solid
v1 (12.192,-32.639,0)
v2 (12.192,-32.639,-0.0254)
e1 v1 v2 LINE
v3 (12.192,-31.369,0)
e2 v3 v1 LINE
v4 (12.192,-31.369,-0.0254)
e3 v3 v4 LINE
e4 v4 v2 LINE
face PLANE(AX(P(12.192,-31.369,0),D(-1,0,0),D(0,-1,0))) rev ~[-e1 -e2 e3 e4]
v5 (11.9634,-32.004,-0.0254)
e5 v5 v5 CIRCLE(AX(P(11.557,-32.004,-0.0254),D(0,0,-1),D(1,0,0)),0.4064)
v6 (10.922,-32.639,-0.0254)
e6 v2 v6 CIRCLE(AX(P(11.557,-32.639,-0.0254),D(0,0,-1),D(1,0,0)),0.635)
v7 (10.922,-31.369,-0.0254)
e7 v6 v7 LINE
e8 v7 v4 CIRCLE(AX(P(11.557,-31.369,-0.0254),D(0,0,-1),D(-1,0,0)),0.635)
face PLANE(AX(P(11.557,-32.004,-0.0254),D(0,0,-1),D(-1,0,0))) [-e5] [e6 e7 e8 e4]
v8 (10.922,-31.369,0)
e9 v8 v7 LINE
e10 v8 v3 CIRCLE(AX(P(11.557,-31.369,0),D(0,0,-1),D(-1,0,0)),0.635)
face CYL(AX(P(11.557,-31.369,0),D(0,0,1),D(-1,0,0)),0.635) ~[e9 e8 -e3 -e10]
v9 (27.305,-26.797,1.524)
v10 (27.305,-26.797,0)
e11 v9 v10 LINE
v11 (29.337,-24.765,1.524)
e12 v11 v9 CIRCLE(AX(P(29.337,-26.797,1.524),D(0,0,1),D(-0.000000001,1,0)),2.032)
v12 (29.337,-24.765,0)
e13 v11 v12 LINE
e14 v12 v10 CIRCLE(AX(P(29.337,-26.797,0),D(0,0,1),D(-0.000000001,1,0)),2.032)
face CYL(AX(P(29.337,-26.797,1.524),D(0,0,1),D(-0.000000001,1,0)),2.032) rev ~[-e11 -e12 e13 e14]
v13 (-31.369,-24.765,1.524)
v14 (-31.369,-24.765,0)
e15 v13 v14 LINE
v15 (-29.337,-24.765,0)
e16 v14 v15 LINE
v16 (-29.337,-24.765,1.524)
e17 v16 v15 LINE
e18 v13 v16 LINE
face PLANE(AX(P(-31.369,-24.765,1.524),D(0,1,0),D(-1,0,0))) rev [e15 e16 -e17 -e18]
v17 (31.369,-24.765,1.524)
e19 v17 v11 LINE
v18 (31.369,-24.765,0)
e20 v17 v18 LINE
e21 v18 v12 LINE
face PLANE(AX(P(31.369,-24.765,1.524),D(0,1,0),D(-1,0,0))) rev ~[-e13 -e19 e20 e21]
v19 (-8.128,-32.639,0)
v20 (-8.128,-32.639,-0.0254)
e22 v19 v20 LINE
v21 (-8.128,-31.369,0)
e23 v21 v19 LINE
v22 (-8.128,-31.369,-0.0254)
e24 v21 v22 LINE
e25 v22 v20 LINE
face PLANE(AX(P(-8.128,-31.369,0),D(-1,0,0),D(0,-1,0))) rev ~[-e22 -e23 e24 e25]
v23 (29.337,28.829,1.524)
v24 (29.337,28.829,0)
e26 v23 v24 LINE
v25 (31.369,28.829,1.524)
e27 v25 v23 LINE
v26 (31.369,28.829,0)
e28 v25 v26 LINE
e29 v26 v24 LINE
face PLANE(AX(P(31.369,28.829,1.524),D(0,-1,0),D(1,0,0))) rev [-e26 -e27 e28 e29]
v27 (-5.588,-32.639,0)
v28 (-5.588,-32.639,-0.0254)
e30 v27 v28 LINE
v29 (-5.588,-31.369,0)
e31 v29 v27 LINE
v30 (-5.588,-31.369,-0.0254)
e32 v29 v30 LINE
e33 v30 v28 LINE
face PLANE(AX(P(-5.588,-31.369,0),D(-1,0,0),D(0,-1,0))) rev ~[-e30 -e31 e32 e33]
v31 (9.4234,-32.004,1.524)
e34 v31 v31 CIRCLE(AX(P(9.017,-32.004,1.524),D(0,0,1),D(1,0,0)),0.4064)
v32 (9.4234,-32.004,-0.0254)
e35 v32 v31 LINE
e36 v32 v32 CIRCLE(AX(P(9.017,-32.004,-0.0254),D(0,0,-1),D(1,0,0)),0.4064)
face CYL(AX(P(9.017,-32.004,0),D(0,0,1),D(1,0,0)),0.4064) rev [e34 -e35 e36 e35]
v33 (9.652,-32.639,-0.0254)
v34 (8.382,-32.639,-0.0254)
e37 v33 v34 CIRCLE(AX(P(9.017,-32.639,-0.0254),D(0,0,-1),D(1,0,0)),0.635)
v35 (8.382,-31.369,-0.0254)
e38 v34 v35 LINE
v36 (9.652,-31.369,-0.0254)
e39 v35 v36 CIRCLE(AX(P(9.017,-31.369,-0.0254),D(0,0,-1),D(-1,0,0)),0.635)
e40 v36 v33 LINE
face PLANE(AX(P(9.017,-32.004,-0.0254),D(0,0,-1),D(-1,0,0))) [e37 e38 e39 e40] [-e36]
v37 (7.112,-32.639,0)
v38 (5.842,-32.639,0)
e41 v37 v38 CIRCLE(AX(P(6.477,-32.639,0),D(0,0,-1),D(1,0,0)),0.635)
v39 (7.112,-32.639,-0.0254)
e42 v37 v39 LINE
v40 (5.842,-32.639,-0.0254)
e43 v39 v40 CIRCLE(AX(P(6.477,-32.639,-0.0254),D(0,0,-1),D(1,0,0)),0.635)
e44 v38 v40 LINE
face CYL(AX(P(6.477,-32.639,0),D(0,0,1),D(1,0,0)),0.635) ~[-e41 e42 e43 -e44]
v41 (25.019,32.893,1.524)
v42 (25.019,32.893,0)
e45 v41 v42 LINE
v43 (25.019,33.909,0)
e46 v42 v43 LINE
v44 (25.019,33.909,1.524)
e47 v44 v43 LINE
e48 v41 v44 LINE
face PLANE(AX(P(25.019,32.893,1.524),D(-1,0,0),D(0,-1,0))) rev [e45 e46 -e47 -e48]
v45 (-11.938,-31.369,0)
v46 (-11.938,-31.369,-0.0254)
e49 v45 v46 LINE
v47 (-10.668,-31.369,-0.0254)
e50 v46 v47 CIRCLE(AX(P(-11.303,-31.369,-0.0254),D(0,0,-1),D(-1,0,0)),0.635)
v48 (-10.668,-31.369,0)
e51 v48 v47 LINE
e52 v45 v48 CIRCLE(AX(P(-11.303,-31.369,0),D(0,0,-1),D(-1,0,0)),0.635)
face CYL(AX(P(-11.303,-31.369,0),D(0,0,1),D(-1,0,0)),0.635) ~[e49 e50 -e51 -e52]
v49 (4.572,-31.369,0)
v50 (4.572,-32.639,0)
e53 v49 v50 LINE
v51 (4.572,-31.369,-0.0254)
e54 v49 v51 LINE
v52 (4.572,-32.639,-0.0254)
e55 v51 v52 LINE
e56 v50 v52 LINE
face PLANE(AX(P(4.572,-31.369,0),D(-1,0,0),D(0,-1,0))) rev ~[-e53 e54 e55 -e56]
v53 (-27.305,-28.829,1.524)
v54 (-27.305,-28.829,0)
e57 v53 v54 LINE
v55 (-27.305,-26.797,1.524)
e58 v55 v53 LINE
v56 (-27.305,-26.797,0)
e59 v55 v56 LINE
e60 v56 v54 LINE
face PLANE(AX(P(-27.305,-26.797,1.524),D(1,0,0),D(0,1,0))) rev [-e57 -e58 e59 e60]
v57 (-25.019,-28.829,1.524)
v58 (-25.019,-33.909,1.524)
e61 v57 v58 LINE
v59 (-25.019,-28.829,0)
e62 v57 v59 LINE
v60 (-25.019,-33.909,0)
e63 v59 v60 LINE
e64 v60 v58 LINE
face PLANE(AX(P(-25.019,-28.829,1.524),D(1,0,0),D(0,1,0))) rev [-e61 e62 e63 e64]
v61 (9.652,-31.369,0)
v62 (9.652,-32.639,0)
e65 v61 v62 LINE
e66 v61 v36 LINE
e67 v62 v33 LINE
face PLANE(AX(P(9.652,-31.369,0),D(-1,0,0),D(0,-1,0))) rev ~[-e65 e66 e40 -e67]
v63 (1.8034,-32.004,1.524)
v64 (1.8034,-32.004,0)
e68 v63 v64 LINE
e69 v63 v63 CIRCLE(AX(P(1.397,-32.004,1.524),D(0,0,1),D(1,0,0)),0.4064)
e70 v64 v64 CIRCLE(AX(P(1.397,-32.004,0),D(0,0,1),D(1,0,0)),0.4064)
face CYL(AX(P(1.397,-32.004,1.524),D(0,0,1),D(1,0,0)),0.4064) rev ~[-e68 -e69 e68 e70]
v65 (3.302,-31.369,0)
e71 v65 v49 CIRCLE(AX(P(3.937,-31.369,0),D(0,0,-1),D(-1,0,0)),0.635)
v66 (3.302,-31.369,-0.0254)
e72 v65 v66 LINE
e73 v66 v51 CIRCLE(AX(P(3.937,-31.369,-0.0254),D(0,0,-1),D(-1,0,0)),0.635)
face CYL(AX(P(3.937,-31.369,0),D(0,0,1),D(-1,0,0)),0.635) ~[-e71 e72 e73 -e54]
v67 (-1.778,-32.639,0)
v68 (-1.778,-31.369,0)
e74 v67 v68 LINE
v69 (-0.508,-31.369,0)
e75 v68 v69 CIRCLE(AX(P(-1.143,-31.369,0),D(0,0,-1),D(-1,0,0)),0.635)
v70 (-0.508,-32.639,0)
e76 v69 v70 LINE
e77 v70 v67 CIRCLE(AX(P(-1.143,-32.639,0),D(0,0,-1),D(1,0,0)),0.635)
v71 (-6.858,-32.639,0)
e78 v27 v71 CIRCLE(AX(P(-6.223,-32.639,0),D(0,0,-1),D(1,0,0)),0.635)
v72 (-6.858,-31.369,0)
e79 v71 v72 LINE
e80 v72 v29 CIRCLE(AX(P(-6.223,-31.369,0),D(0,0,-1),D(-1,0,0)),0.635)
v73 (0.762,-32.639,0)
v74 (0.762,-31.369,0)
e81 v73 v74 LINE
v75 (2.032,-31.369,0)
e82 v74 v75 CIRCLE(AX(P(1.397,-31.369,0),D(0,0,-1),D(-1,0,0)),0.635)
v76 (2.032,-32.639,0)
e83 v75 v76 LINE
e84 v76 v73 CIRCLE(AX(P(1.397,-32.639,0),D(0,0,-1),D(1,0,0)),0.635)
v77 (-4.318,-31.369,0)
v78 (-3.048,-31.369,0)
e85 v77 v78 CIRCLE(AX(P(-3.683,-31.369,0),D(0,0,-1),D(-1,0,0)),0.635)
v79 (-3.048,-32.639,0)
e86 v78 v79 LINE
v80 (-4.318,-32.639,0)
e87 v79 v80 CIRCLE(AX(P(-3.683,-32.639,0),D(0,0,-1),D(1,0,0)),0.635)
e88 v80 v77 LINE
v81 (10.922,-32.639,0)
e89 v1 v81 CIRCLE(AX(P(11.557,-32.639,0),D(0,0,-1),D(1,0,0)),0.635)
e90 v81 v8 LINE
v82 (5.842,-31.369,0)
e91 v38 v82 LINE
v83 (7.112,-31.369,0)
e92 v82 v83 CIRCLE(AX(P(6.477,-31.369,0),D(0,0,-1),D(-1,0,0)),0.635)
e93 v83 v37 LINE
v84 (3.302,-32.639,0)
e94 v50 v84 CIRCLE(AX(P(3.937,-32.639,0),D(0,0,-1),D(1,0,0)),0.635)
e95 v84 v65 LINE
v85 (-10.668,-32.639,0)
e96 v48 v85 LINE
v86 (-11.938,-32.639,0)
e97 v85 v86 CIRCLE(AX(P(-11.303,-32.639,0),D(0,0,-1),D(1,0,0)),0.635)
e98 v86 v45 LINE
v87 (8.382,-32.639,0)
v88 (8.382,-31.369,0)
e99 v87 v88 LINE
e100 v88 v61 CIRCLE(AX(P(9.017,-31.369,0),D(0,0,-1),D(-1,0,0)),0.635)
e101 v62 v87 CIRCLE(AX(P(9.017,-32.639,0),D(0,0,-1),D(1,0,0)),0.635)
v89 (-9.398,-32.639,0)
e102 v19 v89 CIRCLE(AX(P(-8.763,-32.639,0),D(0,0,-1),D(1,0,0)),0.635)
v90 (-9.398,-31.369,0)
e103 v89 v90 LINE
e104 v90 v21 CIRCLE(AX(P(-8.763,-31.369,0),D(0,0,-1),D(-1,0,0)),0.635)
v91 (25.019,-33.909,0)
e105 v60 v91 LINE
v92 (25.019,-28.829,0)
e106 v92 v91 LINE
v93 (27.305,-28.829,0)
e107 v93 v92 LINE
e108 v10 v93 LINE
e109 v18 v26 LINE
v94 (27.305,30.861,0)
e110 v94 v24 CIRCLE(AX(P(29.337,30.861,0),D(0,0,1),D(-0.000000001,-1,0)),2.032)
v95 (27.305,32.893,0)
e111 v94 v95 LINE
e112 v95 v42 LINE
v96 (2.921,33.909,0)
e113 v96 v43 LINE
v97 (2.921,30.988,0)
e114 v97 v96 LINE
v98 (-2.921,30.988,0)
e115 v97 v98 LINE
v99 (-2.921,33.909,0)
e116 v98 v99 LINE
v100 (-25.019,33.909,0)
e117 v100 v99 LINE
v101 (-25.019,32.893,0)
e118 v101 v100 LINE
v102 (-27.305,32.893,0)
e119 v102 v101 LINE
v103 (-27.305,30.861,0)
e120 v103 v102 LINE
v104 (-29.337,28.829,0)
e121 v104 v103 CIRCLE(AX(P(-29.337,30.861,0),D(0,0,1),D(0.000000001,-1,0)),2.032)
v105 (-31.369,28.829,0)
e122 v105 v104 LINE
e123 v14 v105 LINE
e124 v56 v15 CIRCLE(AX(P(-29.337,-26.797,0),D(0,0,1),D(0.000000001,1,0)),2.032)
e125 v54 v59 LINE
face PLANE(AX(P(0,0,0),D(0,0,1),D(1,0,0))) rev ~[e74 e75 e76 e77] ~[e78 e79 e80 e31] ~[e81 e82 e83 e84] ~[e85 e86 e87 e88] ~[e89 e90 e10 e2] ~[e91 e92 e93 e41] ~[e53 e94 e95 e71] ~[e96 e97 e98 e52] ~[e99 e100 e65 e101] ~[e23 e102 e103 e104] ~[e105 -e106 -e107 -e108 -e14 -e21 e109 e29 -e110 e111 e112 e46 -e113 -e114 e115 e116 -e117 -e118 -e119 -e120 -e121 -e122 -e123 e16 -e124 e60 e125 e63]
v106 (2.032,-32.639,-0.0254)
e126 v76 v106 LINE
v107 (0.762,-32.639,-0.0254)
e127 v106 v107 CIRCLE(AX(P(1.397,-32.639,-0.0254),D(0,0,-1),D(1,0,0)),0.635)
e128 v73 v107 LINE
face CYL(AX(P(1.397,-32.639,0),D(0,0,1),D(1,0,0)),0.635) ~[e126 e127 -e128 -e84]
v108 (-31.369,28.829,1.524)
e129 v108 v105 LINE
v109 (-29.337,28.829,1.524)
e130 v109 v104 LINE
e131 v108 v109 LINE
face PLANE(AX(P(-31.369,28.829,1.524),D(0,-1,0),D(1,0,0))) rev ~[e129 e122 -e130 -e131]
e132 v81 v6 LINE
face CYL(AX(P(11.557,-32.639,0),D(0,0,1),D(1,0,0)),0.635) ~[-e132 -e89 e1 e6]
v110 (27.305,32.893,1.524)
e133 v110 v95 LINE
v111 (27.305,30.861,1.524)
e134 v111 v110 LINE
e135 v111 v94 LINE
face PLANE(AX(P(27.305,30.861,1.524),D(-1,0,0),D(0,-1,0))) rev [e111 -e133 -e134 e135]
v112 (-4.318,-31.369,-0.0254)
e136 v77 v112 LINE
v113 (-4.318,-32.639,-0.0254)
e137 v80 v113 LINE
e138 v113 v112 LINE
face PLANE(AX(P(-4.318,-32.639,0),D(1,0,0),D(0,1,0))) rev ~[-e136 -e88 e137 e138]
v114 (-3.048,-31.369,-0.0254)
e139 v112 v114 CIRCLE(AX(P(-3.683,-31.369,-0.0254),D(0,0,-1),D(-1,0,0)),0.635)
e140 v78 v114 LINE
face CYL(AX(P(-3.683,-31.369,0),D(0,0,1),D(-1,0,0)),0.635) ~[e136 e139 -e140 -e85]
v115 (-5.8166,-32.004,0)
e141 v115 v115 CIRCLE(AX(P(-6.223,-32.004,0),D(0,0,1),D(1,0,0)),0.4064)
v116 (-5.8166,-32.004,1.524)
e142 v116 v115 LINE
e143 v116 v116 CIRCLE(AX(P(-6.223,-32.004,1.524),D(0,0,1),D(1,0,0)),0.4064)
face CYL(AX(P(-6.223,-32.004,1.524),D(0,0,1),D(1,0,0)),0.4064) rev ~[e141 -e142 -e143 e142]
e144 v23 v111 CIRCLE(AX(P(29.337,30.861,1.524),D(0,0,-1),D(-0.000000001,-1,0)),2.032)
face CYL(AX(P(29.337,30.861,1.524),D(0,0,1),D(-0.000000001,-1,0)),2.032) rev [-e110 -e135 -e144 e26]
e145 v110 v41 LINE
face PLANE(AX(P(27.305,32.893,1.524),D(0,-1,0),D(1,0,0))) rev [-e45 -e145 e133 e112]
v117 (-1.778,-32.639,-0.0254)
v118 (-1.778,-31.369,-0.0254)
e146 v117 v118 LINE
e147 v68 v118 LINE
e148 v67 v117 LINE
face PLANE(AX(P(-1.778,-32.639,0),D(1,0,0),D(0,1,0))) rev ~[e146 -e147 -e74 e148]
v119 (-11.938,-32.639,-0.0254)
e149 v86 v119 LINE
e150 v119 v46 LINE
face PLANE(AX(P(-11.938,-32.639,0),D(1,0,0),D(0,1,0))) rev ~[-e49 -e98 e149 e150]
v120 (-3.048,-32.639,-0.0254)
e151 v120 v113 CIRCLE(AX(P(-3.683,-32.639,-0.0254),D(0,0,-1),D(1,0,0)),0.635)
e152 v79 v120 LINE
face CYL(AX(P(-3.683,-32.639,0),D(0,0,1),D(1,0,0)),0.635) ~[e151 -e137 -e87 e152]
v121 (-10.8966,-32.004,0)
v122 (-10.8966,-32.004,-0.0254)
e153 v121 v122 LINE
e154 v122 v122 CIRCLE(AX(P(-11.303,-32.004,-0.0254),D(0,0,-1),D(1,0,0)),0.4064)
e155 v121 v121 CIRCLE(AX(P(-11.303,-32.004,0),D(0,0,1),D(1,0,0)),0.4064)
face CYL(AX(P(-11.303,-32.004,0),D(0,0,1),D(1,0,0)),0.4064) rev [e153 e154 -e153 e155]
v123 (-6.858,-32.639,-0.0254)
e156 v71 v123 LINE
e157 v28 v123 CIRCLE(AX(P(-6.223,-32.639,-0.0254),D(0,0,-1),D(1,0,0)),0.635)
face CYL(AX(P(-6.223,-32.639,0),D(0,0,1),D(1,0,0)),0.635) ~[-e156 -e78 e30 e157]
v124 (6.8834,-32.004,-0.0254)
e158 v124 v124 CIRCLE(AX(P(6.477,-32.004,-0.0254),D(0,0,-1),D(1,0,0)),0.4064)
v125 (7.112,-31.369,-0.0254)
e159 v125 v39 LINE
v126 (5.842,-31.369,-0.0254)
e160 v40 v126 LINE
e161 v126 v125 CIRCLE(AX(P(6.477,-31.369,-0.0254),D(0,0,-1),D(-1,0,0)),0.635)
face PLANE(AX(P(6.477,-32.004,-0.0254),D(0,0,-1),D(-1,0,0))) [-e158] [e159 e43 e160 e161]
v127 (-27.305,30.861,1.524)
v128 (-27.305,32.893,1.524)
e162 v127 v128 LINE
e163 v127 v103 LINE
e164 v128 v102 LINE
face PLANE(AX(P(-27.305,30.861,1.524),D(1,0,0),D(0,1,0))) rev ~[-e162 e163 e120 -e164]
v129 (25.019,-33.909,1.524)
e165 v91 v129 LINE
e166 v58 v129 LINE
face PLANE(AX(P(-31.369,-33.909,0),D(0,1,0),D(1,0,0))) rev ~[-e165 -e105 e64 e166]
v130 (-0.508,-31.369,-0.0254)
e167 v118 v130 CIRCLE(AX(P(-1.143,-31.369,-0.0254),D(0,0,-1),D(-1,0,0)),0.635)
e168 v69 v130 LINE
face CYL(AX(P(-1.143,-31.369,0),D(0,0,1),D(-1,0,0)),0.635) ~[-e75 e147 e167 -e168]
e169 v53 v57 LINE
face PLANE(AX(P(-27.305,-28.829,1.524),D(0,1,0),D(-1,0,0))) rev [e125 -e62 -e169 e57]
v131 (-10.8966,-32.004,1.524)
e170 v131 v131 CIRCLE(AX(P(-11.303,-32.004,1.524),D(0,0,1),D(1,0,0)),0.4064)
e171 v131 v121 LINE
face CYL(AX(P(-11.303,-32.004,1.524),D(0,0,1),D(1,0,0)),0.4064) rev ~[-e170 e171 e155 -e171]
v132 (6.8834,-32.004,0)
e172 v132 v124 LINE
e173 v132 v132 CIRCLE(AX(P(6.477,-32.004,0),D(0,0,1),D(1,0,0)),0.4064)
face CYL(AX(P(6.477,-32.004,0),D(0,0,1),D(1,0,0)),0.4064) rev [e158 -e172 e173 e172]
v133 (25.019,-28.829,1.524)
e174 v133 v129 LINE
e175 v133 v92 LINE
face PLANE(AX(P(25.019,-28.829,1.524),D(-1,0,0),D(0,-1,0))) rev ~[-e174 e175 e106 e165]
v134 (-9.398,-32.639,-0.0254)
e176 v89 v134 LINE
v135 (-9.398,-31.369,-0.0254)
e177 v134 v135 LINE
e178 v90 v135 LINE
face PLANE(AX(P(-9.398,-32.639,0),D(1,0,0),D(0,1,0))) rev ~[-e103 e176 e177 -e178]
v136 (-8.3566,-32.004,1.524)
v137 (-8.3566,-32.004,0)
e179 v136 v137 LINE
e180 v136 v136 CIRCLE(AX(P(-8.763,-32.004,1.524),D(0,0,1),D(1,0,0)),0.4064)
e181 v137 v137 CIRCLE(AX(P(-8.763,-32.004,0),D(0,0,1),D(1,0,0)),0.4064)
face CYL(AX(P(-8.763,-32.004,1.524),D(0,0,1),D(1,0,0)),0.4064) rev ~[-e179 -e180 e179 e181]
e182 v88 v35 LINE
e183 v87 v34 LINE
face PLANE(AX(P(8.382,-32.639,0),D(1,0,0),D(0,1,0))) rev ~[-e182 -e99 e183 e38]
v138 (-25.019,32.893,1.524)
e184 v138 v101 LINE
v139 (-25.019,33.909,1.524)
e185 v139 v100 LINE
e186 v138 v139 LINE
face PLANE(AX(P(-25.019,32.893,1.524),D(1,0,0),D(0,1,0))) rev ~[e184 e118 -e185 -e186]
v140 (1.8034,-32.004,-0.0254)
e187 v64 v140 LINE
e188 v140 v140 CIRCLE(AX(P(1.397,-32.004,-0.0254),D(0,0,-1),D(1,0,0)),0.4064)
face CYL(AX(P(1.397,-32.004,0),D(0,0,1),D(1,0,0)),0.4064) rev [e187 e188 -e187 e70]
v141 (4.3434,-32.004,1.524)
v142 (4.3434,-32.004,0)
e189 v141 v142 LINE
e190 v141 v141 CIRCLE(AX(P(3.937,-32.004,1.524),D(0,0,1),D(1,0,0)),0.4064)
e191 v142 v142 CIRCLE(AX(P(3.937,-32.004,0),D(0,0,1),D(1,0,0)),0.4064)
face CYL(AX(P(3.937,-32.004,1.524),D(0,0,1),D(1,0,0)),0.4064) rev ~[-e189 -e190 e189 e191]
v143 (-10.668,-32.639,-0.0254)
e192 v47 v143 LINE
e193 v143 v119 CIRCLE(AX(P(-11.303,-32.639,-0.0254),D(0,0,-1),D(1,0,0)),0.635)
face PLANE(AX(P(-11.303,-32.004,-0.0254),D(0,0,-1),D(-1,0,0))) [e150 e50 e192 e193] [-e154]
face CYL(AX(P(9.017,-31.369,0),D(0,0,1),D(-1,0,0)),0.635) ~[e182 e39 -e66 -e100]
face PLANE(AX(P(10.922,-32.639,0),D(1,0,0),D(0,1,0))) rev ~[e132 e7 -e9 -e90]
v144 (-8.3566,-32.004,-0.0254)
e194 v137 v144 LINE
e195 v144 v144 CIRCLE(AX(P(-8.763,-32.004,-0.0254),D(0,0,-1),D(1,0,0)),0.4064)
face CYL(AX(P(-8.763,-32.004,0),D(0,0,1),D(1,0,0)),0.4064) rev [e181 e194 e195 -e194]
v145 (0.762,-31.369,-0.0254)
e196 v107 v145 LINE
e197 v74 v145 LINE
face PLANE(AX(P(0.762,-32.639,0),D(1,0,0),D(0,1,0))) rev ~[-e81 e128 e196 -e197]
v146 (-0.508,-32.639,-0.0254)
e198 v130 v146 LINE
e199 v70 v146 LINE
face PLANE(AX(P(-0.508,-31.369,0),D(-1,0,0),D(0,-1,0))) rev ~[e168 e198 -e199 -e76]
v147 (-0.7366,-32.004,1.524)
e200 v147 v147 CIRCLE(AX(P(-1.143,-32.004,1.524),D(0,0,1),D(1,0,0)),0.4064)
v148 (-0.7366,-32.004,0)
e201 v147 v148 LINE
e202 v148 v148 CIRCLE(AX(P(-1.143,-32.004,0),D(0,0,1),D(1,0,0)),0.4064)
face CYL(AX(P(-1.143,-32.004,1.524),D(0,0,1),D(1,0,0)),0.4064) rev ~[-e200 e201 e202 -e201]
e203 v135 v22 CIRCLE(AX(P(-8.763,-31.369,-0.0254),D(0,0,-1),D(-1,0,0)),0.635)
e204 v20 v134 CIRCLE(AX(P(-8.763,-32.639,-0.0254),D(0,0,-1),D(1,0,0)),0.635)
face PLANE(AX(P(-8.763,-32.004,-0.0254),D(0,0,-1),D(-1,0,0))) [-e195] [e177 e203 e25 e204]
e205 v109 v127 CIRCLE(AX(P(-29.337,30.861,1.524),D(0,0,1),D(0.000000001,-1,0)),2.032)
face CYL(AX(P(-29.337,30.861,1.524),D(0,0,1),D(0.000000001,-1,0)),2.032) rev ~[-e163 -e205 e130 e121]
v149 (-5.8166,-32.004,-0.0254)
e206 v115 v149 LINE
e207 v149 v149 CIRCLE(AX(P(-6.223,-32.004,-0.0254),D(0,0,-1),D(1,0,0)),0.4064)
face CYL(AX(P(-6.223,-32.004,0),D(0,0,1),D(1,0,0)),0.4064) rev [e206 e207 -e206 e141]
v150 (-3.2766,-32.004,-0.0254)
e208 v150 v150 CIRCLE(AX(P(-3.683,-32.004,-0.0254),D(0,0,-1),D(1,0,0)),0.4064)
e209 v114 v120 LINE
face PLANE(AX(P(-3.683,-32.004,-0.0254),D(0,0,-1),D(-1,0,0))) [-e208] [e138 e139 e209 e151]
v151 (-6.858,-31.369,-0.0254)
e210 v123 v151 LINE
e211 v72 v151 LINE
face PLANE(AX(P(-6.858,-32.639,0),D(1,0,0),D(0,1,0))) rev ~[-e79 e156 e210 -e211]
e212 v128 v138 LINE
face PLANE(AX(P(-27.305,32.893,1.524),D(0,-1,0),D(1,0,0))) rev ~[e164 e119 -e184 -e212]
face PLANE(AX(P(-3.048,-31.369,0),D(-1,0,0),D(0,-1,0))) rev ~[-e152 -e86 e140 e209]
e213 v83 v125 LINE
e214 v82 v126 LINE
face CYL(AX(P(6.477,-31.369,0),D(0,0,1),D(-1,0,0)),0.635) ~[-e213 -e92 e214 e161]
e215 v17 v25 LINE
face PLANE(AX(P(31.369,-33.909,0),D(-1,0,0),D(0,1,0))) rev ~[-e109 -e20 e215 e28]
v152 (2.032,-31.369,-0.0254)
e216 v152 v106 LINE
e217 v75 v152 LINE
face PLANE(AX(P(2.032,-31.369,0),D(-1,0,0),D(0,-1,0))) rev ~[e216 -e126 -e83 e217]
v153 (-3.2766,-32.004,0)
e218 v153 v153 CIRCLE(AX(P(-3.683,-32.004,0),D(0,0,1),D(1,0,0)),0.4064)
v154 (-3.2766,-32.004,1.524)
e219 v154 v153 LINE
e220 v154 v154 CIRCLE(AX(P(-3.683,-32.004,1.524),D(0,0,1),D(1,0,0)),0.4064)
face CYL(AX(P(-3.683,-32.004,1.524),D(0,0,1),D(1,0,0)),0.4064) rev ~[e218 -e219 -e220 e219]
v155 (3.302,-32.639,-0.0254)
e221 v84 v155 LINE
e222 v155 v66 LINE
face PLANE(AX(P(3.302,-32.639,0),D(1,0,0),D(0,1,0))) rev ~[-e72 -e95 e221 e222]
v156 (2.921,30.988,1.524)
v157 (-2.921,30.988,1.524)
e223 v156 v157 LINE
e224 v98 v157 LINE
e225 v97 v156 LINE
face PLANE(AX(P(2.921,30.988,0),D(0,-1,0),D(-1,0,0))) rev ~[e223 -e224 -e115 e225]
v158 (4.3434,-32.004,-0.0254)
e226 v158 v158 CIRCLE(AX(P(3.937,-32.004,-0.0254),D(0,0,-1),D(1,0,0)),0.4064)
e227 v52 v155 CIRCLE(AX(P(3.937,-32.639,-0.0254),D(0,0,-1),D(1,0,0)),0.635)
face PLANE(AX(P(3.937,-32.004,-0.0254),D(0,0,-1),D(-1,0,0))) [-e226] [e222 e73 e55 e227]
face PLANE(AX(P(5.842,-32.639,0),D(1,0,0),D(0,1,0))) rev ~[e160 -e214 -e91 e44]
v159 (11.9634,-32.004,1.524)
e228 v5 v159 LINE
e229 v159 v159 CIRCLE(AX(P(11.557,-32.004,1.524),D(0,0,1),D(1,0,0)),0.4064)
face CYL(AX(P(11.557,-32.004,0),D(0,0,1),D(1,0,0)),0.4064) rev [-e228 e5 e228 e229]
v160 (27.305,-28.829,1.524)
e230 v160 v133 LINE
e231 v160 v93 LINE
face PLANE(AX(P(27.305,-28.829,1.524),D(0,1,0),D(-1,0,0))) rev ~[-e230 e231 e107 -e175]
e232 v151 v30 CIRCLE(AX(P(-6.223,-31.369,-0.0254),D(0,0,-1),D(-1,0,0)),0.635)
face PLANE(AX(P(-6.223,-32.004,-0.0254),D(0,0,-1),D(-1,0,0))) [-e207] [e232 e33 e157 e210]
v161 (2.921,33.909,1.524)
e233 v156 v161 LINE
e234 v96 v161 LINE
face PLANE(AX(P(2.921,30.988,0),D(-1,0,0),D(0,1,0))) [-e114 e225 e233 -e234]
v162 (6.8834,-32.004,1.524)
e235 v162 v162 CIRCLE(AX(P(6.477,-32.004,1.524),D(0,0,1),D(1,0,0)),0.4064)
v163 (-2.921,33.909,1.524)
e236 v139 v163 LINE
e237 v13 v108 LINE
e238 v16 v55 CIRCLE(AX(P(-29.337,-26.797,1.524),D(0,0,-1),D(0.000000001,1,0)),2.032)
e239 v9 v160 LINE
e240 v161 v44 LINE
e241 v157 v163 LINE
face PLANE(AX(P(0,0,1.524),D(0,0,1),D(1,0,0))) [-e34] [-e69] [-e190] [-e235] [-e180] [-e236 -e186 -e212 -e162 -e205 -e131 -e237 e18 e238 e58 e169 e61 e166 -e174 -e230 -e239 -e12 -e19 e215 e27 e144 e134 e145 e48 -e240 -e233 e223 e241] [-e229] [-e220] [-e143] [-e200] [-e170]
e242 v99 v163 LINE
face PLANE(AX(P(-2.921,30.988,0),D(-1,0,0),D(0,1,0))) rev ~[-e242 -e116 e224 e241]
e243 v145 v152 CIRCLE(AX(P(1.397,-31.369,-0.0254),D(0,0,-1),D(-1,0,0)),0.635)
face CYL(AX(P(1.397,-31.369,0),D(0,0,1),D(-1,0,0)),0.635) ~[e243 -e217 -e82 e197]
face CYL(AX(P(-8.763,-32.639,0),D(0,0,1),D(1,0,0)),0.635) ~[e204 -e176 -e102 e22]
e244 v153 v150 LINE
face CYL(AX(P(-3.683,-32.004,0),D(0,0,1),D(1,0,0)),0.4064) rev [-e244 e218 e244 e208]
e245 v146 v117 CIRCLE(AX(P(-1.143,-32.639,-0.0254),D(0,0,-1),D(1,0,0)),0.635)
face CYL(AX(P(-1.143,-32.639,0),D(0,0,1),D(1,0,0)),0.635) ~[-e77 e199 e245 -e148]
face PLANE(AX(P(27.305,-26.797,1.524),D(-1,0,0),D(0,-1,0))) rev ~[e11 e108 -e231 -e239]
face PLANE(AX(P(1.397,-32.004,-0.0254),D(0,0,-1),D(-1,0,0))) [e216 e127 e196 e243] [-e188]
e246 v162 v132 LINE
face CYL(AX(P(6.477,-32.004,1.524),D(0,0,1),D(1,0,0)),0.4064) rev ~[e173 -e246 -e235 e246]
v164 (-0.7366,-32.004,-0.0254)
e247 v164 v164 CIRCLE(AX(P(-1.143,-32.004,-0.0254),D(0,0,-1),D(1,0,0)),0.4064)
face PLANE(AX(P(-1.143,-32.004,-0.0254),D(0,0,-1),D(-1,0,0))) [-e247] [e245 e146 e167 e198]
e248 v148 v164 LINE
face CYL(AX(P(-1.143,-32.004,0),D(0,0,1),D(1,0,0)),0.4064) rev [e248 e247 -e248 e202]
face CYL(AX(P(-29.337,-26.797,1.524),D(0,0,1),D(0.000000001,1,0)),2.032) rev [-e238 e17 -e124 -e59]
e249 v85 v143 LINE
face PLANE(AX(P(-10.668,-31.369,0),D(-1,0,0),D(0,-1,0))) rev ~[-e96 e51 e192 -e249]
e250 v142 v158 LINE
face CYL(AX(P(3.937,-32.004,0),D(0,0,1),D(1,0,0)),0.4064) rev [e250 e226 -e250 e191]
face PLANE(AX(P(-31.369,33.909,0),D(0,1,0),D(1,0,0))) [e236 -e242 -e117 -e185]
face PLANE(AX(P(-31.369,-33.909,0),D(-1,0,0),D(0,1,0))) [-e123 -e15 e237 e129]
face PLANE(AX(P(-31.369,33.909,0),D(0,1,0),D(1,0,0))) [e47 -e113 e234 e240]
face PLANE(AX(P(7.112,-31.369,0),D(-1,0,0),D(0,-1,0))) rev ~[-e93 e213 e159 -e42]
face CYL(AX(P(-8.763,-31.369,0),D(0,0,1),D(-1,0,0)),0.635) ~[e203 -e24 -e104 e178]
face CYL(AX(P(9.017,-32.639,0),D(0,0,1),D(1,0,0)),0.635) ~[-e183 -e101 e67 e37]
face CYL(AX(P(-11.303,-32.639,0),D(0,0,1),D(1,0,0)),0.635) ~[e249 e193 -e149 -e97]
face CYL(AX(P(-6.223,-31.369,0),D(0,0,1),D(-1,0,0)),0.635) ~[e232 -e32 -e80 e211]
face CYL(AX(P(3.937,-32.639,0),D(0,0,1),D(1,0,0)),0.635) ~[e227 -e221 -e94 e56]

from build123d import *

# Parameters (mm, degrees)
SKETCH1_W            = 62.738
SKETCH1_H            = 67.818
PCB_DEPTH            = 1.524
CUT1_DEPTH           = 47.21857871
MIRROR3_COPY_1_DEPTH = 47.21857871
SKETCH4_W            = 5.842
SKETCH4_H            = 2.921
CUTOUT_DEPTH         = 1.524
SKETCH3_R            = 0.4064
HOLES_DEPTH          = 47.21857871
SKETCH5_R            = 0.4064
SOLDER_PAD_DEPTH     = 0.0254
LPATTERN1_COUNT      = 10
LPATTERN1_PITCH      = 2.54


with BuildPart() as part:
    # Sketch1 → PCB (new body)
    with BuildSketch(Plane.XY):
        Rectangle(SKETCH1_W, SKETCH1_H)
    extrude(amount=PCB_DEPTH)

    # Sketch2 → cut1 (cut, through all)
    with BuildSketch(Plane.XY.offset(1.524)):
        with BuildLine():
            Line((-31.369, 28.829), (-29.337, 28.829))
            ThreePointArc((-29.337, 28.829), (-27.900159021, 29.424159021), (-27.305, 30.861))
            Line((-27.305, 30.861), (-27.305, 32.893))
            Line((-27.305, 32.893), (-25.019, 32.893))
            Line((-25.019, 32.893), (-25.019, 40.259))
            Line((-25.019, 40.259), (-31.369, 40.259))
            Line((-31.369, 40.259), (-31.369, 28.829))
        make_face()
    cut1 = extrude(amount=-CUT1_DEPTH, mode=Mode.SUBTRACT)

    # Mirror1: cut1 across plane
    add(cut1.mirror(Plane(origin=(0, 0, 0), x_dir=(0, 0, 1), z_dir=(1, 0, 0))), mode=Mode.SUBTRACT)

    # Mirror3: cut1 across plane
    add(cut1.mirror(Plane(origin=(0, 2.032, 0), x_dir=(0, 0, 1), z_dir=(0, -1, 0))), mode=Mode.SUBTRACT)

    # Mirror3 copy 1 sketch → Mirror3 copy 1 (cut, through all)
    with BuildSketch(Plane(origin=(0, 4.064, 1.524), x_dir=(-1, 0, 0), z_dir=(0, 0, 1))):
        with BuildLine():
            Line((-31.369, 28.829), (-29.337, 28.829))
            ThreePointArc((-29.337, 28.829), (-27.900159021, 29.424159021), (-27.305, 30.861))
            Line((-27.305, 30.861), (-27.305, 32.893))
            Line((-27.305, 32.893), (-25.019, 32.893))
            Line((-25.019, 32.893), (-25.019, 40.259))
            Line((-25.019, 40.259), (-31.369, 40.259))
            Line((-31.369, 40.259), (-31.369, 28.829))
        make_face()
    extrude(amount=-MIRROR3_COPY_1_DEPTH, mode=Mode.SUBTRACT)

    # Sketch4 → cutout (cut)
    with BuildSketch(Plane(origin=(0, 0, 0), x_dir=(-1, 0, 0), z_dir=(0, 0, -1))):
        with Locations((0, 32.4485)):
            Rectangle(SKETCH4_W, SKETCH4_H)
    extrude(amount=-CUTOUT_DEPTH, mode=Mode.SUBTRACT)

    # Sketch3 → holes (cut, through all)
    with BuildSketch(Plane.XY.offset(1.524)):
        with Locations((-11.303, -32.004)):
            Circle(SKETCH3_R)
        with Locations((-8.763, -32.004)):
            Circle(SKETCH3_R)
        with Locations((-6.223, -32.004)):
            Circle(SKETCH3_R)
        with Locations((-3.683, -32.004)):
            Circle(SKETCH3_R)
        with Locations((-1.143, -32.004)):
            Circle(SKETCH3_R)
        with Locations((1.397, -32.004)):
            Circle(SKETCH3_R)
        with Locations((3.937, -32.004)):
            Circle(SKETCH3_R)
        with Locations((6.477, -32.004)):
            Circle(SKETCH3_R)
        with Locations((9.017, -32.004)):
            Circle(SKETCH3_R)
        with Locations((11.557, -32.004)):
            Circle(SKETCH3_R)
    extrude(amount=-HOLES_DEPTH, mode=Mode.SUBTRACT)

    # Sketch5 → solder pad (add)
    with BuildSketch(Plane(origin=(0, 0, 0), x_dir=(-1, 0, 0), z_dir=(0, 0, -1))):
        with BuildLine():
            Line((-12.192, -31.369), (-12.192, -32.639))
            ThreePointArc((-12.192, -32.639), (-11.557, -33.274), (-10.922, -32.639))
            Line((-10.922, -32.639), (-10.922, -31.369))
            ThreePointArc((-10.922, -31.369), (-11.557, -30.734), (-12.192, -31.369))
        make_face()
        with Locations(Location((-11.557, -32.004, 0), (0, 0, 180))):
            Circle(SKETCH5_R, mode=Mode.SUBTRACT)
    solder_pad = extrude(amount=SOLDER_PAD_DEPTH)

    # LPattern1: solder pad ×10
    with Locations(*[(-i * LPATTERN1_PITCH, 0, 0) for i in range(1, LPATTERN1_COUNT)]):
        add(solder_pad)


solid = part.part
